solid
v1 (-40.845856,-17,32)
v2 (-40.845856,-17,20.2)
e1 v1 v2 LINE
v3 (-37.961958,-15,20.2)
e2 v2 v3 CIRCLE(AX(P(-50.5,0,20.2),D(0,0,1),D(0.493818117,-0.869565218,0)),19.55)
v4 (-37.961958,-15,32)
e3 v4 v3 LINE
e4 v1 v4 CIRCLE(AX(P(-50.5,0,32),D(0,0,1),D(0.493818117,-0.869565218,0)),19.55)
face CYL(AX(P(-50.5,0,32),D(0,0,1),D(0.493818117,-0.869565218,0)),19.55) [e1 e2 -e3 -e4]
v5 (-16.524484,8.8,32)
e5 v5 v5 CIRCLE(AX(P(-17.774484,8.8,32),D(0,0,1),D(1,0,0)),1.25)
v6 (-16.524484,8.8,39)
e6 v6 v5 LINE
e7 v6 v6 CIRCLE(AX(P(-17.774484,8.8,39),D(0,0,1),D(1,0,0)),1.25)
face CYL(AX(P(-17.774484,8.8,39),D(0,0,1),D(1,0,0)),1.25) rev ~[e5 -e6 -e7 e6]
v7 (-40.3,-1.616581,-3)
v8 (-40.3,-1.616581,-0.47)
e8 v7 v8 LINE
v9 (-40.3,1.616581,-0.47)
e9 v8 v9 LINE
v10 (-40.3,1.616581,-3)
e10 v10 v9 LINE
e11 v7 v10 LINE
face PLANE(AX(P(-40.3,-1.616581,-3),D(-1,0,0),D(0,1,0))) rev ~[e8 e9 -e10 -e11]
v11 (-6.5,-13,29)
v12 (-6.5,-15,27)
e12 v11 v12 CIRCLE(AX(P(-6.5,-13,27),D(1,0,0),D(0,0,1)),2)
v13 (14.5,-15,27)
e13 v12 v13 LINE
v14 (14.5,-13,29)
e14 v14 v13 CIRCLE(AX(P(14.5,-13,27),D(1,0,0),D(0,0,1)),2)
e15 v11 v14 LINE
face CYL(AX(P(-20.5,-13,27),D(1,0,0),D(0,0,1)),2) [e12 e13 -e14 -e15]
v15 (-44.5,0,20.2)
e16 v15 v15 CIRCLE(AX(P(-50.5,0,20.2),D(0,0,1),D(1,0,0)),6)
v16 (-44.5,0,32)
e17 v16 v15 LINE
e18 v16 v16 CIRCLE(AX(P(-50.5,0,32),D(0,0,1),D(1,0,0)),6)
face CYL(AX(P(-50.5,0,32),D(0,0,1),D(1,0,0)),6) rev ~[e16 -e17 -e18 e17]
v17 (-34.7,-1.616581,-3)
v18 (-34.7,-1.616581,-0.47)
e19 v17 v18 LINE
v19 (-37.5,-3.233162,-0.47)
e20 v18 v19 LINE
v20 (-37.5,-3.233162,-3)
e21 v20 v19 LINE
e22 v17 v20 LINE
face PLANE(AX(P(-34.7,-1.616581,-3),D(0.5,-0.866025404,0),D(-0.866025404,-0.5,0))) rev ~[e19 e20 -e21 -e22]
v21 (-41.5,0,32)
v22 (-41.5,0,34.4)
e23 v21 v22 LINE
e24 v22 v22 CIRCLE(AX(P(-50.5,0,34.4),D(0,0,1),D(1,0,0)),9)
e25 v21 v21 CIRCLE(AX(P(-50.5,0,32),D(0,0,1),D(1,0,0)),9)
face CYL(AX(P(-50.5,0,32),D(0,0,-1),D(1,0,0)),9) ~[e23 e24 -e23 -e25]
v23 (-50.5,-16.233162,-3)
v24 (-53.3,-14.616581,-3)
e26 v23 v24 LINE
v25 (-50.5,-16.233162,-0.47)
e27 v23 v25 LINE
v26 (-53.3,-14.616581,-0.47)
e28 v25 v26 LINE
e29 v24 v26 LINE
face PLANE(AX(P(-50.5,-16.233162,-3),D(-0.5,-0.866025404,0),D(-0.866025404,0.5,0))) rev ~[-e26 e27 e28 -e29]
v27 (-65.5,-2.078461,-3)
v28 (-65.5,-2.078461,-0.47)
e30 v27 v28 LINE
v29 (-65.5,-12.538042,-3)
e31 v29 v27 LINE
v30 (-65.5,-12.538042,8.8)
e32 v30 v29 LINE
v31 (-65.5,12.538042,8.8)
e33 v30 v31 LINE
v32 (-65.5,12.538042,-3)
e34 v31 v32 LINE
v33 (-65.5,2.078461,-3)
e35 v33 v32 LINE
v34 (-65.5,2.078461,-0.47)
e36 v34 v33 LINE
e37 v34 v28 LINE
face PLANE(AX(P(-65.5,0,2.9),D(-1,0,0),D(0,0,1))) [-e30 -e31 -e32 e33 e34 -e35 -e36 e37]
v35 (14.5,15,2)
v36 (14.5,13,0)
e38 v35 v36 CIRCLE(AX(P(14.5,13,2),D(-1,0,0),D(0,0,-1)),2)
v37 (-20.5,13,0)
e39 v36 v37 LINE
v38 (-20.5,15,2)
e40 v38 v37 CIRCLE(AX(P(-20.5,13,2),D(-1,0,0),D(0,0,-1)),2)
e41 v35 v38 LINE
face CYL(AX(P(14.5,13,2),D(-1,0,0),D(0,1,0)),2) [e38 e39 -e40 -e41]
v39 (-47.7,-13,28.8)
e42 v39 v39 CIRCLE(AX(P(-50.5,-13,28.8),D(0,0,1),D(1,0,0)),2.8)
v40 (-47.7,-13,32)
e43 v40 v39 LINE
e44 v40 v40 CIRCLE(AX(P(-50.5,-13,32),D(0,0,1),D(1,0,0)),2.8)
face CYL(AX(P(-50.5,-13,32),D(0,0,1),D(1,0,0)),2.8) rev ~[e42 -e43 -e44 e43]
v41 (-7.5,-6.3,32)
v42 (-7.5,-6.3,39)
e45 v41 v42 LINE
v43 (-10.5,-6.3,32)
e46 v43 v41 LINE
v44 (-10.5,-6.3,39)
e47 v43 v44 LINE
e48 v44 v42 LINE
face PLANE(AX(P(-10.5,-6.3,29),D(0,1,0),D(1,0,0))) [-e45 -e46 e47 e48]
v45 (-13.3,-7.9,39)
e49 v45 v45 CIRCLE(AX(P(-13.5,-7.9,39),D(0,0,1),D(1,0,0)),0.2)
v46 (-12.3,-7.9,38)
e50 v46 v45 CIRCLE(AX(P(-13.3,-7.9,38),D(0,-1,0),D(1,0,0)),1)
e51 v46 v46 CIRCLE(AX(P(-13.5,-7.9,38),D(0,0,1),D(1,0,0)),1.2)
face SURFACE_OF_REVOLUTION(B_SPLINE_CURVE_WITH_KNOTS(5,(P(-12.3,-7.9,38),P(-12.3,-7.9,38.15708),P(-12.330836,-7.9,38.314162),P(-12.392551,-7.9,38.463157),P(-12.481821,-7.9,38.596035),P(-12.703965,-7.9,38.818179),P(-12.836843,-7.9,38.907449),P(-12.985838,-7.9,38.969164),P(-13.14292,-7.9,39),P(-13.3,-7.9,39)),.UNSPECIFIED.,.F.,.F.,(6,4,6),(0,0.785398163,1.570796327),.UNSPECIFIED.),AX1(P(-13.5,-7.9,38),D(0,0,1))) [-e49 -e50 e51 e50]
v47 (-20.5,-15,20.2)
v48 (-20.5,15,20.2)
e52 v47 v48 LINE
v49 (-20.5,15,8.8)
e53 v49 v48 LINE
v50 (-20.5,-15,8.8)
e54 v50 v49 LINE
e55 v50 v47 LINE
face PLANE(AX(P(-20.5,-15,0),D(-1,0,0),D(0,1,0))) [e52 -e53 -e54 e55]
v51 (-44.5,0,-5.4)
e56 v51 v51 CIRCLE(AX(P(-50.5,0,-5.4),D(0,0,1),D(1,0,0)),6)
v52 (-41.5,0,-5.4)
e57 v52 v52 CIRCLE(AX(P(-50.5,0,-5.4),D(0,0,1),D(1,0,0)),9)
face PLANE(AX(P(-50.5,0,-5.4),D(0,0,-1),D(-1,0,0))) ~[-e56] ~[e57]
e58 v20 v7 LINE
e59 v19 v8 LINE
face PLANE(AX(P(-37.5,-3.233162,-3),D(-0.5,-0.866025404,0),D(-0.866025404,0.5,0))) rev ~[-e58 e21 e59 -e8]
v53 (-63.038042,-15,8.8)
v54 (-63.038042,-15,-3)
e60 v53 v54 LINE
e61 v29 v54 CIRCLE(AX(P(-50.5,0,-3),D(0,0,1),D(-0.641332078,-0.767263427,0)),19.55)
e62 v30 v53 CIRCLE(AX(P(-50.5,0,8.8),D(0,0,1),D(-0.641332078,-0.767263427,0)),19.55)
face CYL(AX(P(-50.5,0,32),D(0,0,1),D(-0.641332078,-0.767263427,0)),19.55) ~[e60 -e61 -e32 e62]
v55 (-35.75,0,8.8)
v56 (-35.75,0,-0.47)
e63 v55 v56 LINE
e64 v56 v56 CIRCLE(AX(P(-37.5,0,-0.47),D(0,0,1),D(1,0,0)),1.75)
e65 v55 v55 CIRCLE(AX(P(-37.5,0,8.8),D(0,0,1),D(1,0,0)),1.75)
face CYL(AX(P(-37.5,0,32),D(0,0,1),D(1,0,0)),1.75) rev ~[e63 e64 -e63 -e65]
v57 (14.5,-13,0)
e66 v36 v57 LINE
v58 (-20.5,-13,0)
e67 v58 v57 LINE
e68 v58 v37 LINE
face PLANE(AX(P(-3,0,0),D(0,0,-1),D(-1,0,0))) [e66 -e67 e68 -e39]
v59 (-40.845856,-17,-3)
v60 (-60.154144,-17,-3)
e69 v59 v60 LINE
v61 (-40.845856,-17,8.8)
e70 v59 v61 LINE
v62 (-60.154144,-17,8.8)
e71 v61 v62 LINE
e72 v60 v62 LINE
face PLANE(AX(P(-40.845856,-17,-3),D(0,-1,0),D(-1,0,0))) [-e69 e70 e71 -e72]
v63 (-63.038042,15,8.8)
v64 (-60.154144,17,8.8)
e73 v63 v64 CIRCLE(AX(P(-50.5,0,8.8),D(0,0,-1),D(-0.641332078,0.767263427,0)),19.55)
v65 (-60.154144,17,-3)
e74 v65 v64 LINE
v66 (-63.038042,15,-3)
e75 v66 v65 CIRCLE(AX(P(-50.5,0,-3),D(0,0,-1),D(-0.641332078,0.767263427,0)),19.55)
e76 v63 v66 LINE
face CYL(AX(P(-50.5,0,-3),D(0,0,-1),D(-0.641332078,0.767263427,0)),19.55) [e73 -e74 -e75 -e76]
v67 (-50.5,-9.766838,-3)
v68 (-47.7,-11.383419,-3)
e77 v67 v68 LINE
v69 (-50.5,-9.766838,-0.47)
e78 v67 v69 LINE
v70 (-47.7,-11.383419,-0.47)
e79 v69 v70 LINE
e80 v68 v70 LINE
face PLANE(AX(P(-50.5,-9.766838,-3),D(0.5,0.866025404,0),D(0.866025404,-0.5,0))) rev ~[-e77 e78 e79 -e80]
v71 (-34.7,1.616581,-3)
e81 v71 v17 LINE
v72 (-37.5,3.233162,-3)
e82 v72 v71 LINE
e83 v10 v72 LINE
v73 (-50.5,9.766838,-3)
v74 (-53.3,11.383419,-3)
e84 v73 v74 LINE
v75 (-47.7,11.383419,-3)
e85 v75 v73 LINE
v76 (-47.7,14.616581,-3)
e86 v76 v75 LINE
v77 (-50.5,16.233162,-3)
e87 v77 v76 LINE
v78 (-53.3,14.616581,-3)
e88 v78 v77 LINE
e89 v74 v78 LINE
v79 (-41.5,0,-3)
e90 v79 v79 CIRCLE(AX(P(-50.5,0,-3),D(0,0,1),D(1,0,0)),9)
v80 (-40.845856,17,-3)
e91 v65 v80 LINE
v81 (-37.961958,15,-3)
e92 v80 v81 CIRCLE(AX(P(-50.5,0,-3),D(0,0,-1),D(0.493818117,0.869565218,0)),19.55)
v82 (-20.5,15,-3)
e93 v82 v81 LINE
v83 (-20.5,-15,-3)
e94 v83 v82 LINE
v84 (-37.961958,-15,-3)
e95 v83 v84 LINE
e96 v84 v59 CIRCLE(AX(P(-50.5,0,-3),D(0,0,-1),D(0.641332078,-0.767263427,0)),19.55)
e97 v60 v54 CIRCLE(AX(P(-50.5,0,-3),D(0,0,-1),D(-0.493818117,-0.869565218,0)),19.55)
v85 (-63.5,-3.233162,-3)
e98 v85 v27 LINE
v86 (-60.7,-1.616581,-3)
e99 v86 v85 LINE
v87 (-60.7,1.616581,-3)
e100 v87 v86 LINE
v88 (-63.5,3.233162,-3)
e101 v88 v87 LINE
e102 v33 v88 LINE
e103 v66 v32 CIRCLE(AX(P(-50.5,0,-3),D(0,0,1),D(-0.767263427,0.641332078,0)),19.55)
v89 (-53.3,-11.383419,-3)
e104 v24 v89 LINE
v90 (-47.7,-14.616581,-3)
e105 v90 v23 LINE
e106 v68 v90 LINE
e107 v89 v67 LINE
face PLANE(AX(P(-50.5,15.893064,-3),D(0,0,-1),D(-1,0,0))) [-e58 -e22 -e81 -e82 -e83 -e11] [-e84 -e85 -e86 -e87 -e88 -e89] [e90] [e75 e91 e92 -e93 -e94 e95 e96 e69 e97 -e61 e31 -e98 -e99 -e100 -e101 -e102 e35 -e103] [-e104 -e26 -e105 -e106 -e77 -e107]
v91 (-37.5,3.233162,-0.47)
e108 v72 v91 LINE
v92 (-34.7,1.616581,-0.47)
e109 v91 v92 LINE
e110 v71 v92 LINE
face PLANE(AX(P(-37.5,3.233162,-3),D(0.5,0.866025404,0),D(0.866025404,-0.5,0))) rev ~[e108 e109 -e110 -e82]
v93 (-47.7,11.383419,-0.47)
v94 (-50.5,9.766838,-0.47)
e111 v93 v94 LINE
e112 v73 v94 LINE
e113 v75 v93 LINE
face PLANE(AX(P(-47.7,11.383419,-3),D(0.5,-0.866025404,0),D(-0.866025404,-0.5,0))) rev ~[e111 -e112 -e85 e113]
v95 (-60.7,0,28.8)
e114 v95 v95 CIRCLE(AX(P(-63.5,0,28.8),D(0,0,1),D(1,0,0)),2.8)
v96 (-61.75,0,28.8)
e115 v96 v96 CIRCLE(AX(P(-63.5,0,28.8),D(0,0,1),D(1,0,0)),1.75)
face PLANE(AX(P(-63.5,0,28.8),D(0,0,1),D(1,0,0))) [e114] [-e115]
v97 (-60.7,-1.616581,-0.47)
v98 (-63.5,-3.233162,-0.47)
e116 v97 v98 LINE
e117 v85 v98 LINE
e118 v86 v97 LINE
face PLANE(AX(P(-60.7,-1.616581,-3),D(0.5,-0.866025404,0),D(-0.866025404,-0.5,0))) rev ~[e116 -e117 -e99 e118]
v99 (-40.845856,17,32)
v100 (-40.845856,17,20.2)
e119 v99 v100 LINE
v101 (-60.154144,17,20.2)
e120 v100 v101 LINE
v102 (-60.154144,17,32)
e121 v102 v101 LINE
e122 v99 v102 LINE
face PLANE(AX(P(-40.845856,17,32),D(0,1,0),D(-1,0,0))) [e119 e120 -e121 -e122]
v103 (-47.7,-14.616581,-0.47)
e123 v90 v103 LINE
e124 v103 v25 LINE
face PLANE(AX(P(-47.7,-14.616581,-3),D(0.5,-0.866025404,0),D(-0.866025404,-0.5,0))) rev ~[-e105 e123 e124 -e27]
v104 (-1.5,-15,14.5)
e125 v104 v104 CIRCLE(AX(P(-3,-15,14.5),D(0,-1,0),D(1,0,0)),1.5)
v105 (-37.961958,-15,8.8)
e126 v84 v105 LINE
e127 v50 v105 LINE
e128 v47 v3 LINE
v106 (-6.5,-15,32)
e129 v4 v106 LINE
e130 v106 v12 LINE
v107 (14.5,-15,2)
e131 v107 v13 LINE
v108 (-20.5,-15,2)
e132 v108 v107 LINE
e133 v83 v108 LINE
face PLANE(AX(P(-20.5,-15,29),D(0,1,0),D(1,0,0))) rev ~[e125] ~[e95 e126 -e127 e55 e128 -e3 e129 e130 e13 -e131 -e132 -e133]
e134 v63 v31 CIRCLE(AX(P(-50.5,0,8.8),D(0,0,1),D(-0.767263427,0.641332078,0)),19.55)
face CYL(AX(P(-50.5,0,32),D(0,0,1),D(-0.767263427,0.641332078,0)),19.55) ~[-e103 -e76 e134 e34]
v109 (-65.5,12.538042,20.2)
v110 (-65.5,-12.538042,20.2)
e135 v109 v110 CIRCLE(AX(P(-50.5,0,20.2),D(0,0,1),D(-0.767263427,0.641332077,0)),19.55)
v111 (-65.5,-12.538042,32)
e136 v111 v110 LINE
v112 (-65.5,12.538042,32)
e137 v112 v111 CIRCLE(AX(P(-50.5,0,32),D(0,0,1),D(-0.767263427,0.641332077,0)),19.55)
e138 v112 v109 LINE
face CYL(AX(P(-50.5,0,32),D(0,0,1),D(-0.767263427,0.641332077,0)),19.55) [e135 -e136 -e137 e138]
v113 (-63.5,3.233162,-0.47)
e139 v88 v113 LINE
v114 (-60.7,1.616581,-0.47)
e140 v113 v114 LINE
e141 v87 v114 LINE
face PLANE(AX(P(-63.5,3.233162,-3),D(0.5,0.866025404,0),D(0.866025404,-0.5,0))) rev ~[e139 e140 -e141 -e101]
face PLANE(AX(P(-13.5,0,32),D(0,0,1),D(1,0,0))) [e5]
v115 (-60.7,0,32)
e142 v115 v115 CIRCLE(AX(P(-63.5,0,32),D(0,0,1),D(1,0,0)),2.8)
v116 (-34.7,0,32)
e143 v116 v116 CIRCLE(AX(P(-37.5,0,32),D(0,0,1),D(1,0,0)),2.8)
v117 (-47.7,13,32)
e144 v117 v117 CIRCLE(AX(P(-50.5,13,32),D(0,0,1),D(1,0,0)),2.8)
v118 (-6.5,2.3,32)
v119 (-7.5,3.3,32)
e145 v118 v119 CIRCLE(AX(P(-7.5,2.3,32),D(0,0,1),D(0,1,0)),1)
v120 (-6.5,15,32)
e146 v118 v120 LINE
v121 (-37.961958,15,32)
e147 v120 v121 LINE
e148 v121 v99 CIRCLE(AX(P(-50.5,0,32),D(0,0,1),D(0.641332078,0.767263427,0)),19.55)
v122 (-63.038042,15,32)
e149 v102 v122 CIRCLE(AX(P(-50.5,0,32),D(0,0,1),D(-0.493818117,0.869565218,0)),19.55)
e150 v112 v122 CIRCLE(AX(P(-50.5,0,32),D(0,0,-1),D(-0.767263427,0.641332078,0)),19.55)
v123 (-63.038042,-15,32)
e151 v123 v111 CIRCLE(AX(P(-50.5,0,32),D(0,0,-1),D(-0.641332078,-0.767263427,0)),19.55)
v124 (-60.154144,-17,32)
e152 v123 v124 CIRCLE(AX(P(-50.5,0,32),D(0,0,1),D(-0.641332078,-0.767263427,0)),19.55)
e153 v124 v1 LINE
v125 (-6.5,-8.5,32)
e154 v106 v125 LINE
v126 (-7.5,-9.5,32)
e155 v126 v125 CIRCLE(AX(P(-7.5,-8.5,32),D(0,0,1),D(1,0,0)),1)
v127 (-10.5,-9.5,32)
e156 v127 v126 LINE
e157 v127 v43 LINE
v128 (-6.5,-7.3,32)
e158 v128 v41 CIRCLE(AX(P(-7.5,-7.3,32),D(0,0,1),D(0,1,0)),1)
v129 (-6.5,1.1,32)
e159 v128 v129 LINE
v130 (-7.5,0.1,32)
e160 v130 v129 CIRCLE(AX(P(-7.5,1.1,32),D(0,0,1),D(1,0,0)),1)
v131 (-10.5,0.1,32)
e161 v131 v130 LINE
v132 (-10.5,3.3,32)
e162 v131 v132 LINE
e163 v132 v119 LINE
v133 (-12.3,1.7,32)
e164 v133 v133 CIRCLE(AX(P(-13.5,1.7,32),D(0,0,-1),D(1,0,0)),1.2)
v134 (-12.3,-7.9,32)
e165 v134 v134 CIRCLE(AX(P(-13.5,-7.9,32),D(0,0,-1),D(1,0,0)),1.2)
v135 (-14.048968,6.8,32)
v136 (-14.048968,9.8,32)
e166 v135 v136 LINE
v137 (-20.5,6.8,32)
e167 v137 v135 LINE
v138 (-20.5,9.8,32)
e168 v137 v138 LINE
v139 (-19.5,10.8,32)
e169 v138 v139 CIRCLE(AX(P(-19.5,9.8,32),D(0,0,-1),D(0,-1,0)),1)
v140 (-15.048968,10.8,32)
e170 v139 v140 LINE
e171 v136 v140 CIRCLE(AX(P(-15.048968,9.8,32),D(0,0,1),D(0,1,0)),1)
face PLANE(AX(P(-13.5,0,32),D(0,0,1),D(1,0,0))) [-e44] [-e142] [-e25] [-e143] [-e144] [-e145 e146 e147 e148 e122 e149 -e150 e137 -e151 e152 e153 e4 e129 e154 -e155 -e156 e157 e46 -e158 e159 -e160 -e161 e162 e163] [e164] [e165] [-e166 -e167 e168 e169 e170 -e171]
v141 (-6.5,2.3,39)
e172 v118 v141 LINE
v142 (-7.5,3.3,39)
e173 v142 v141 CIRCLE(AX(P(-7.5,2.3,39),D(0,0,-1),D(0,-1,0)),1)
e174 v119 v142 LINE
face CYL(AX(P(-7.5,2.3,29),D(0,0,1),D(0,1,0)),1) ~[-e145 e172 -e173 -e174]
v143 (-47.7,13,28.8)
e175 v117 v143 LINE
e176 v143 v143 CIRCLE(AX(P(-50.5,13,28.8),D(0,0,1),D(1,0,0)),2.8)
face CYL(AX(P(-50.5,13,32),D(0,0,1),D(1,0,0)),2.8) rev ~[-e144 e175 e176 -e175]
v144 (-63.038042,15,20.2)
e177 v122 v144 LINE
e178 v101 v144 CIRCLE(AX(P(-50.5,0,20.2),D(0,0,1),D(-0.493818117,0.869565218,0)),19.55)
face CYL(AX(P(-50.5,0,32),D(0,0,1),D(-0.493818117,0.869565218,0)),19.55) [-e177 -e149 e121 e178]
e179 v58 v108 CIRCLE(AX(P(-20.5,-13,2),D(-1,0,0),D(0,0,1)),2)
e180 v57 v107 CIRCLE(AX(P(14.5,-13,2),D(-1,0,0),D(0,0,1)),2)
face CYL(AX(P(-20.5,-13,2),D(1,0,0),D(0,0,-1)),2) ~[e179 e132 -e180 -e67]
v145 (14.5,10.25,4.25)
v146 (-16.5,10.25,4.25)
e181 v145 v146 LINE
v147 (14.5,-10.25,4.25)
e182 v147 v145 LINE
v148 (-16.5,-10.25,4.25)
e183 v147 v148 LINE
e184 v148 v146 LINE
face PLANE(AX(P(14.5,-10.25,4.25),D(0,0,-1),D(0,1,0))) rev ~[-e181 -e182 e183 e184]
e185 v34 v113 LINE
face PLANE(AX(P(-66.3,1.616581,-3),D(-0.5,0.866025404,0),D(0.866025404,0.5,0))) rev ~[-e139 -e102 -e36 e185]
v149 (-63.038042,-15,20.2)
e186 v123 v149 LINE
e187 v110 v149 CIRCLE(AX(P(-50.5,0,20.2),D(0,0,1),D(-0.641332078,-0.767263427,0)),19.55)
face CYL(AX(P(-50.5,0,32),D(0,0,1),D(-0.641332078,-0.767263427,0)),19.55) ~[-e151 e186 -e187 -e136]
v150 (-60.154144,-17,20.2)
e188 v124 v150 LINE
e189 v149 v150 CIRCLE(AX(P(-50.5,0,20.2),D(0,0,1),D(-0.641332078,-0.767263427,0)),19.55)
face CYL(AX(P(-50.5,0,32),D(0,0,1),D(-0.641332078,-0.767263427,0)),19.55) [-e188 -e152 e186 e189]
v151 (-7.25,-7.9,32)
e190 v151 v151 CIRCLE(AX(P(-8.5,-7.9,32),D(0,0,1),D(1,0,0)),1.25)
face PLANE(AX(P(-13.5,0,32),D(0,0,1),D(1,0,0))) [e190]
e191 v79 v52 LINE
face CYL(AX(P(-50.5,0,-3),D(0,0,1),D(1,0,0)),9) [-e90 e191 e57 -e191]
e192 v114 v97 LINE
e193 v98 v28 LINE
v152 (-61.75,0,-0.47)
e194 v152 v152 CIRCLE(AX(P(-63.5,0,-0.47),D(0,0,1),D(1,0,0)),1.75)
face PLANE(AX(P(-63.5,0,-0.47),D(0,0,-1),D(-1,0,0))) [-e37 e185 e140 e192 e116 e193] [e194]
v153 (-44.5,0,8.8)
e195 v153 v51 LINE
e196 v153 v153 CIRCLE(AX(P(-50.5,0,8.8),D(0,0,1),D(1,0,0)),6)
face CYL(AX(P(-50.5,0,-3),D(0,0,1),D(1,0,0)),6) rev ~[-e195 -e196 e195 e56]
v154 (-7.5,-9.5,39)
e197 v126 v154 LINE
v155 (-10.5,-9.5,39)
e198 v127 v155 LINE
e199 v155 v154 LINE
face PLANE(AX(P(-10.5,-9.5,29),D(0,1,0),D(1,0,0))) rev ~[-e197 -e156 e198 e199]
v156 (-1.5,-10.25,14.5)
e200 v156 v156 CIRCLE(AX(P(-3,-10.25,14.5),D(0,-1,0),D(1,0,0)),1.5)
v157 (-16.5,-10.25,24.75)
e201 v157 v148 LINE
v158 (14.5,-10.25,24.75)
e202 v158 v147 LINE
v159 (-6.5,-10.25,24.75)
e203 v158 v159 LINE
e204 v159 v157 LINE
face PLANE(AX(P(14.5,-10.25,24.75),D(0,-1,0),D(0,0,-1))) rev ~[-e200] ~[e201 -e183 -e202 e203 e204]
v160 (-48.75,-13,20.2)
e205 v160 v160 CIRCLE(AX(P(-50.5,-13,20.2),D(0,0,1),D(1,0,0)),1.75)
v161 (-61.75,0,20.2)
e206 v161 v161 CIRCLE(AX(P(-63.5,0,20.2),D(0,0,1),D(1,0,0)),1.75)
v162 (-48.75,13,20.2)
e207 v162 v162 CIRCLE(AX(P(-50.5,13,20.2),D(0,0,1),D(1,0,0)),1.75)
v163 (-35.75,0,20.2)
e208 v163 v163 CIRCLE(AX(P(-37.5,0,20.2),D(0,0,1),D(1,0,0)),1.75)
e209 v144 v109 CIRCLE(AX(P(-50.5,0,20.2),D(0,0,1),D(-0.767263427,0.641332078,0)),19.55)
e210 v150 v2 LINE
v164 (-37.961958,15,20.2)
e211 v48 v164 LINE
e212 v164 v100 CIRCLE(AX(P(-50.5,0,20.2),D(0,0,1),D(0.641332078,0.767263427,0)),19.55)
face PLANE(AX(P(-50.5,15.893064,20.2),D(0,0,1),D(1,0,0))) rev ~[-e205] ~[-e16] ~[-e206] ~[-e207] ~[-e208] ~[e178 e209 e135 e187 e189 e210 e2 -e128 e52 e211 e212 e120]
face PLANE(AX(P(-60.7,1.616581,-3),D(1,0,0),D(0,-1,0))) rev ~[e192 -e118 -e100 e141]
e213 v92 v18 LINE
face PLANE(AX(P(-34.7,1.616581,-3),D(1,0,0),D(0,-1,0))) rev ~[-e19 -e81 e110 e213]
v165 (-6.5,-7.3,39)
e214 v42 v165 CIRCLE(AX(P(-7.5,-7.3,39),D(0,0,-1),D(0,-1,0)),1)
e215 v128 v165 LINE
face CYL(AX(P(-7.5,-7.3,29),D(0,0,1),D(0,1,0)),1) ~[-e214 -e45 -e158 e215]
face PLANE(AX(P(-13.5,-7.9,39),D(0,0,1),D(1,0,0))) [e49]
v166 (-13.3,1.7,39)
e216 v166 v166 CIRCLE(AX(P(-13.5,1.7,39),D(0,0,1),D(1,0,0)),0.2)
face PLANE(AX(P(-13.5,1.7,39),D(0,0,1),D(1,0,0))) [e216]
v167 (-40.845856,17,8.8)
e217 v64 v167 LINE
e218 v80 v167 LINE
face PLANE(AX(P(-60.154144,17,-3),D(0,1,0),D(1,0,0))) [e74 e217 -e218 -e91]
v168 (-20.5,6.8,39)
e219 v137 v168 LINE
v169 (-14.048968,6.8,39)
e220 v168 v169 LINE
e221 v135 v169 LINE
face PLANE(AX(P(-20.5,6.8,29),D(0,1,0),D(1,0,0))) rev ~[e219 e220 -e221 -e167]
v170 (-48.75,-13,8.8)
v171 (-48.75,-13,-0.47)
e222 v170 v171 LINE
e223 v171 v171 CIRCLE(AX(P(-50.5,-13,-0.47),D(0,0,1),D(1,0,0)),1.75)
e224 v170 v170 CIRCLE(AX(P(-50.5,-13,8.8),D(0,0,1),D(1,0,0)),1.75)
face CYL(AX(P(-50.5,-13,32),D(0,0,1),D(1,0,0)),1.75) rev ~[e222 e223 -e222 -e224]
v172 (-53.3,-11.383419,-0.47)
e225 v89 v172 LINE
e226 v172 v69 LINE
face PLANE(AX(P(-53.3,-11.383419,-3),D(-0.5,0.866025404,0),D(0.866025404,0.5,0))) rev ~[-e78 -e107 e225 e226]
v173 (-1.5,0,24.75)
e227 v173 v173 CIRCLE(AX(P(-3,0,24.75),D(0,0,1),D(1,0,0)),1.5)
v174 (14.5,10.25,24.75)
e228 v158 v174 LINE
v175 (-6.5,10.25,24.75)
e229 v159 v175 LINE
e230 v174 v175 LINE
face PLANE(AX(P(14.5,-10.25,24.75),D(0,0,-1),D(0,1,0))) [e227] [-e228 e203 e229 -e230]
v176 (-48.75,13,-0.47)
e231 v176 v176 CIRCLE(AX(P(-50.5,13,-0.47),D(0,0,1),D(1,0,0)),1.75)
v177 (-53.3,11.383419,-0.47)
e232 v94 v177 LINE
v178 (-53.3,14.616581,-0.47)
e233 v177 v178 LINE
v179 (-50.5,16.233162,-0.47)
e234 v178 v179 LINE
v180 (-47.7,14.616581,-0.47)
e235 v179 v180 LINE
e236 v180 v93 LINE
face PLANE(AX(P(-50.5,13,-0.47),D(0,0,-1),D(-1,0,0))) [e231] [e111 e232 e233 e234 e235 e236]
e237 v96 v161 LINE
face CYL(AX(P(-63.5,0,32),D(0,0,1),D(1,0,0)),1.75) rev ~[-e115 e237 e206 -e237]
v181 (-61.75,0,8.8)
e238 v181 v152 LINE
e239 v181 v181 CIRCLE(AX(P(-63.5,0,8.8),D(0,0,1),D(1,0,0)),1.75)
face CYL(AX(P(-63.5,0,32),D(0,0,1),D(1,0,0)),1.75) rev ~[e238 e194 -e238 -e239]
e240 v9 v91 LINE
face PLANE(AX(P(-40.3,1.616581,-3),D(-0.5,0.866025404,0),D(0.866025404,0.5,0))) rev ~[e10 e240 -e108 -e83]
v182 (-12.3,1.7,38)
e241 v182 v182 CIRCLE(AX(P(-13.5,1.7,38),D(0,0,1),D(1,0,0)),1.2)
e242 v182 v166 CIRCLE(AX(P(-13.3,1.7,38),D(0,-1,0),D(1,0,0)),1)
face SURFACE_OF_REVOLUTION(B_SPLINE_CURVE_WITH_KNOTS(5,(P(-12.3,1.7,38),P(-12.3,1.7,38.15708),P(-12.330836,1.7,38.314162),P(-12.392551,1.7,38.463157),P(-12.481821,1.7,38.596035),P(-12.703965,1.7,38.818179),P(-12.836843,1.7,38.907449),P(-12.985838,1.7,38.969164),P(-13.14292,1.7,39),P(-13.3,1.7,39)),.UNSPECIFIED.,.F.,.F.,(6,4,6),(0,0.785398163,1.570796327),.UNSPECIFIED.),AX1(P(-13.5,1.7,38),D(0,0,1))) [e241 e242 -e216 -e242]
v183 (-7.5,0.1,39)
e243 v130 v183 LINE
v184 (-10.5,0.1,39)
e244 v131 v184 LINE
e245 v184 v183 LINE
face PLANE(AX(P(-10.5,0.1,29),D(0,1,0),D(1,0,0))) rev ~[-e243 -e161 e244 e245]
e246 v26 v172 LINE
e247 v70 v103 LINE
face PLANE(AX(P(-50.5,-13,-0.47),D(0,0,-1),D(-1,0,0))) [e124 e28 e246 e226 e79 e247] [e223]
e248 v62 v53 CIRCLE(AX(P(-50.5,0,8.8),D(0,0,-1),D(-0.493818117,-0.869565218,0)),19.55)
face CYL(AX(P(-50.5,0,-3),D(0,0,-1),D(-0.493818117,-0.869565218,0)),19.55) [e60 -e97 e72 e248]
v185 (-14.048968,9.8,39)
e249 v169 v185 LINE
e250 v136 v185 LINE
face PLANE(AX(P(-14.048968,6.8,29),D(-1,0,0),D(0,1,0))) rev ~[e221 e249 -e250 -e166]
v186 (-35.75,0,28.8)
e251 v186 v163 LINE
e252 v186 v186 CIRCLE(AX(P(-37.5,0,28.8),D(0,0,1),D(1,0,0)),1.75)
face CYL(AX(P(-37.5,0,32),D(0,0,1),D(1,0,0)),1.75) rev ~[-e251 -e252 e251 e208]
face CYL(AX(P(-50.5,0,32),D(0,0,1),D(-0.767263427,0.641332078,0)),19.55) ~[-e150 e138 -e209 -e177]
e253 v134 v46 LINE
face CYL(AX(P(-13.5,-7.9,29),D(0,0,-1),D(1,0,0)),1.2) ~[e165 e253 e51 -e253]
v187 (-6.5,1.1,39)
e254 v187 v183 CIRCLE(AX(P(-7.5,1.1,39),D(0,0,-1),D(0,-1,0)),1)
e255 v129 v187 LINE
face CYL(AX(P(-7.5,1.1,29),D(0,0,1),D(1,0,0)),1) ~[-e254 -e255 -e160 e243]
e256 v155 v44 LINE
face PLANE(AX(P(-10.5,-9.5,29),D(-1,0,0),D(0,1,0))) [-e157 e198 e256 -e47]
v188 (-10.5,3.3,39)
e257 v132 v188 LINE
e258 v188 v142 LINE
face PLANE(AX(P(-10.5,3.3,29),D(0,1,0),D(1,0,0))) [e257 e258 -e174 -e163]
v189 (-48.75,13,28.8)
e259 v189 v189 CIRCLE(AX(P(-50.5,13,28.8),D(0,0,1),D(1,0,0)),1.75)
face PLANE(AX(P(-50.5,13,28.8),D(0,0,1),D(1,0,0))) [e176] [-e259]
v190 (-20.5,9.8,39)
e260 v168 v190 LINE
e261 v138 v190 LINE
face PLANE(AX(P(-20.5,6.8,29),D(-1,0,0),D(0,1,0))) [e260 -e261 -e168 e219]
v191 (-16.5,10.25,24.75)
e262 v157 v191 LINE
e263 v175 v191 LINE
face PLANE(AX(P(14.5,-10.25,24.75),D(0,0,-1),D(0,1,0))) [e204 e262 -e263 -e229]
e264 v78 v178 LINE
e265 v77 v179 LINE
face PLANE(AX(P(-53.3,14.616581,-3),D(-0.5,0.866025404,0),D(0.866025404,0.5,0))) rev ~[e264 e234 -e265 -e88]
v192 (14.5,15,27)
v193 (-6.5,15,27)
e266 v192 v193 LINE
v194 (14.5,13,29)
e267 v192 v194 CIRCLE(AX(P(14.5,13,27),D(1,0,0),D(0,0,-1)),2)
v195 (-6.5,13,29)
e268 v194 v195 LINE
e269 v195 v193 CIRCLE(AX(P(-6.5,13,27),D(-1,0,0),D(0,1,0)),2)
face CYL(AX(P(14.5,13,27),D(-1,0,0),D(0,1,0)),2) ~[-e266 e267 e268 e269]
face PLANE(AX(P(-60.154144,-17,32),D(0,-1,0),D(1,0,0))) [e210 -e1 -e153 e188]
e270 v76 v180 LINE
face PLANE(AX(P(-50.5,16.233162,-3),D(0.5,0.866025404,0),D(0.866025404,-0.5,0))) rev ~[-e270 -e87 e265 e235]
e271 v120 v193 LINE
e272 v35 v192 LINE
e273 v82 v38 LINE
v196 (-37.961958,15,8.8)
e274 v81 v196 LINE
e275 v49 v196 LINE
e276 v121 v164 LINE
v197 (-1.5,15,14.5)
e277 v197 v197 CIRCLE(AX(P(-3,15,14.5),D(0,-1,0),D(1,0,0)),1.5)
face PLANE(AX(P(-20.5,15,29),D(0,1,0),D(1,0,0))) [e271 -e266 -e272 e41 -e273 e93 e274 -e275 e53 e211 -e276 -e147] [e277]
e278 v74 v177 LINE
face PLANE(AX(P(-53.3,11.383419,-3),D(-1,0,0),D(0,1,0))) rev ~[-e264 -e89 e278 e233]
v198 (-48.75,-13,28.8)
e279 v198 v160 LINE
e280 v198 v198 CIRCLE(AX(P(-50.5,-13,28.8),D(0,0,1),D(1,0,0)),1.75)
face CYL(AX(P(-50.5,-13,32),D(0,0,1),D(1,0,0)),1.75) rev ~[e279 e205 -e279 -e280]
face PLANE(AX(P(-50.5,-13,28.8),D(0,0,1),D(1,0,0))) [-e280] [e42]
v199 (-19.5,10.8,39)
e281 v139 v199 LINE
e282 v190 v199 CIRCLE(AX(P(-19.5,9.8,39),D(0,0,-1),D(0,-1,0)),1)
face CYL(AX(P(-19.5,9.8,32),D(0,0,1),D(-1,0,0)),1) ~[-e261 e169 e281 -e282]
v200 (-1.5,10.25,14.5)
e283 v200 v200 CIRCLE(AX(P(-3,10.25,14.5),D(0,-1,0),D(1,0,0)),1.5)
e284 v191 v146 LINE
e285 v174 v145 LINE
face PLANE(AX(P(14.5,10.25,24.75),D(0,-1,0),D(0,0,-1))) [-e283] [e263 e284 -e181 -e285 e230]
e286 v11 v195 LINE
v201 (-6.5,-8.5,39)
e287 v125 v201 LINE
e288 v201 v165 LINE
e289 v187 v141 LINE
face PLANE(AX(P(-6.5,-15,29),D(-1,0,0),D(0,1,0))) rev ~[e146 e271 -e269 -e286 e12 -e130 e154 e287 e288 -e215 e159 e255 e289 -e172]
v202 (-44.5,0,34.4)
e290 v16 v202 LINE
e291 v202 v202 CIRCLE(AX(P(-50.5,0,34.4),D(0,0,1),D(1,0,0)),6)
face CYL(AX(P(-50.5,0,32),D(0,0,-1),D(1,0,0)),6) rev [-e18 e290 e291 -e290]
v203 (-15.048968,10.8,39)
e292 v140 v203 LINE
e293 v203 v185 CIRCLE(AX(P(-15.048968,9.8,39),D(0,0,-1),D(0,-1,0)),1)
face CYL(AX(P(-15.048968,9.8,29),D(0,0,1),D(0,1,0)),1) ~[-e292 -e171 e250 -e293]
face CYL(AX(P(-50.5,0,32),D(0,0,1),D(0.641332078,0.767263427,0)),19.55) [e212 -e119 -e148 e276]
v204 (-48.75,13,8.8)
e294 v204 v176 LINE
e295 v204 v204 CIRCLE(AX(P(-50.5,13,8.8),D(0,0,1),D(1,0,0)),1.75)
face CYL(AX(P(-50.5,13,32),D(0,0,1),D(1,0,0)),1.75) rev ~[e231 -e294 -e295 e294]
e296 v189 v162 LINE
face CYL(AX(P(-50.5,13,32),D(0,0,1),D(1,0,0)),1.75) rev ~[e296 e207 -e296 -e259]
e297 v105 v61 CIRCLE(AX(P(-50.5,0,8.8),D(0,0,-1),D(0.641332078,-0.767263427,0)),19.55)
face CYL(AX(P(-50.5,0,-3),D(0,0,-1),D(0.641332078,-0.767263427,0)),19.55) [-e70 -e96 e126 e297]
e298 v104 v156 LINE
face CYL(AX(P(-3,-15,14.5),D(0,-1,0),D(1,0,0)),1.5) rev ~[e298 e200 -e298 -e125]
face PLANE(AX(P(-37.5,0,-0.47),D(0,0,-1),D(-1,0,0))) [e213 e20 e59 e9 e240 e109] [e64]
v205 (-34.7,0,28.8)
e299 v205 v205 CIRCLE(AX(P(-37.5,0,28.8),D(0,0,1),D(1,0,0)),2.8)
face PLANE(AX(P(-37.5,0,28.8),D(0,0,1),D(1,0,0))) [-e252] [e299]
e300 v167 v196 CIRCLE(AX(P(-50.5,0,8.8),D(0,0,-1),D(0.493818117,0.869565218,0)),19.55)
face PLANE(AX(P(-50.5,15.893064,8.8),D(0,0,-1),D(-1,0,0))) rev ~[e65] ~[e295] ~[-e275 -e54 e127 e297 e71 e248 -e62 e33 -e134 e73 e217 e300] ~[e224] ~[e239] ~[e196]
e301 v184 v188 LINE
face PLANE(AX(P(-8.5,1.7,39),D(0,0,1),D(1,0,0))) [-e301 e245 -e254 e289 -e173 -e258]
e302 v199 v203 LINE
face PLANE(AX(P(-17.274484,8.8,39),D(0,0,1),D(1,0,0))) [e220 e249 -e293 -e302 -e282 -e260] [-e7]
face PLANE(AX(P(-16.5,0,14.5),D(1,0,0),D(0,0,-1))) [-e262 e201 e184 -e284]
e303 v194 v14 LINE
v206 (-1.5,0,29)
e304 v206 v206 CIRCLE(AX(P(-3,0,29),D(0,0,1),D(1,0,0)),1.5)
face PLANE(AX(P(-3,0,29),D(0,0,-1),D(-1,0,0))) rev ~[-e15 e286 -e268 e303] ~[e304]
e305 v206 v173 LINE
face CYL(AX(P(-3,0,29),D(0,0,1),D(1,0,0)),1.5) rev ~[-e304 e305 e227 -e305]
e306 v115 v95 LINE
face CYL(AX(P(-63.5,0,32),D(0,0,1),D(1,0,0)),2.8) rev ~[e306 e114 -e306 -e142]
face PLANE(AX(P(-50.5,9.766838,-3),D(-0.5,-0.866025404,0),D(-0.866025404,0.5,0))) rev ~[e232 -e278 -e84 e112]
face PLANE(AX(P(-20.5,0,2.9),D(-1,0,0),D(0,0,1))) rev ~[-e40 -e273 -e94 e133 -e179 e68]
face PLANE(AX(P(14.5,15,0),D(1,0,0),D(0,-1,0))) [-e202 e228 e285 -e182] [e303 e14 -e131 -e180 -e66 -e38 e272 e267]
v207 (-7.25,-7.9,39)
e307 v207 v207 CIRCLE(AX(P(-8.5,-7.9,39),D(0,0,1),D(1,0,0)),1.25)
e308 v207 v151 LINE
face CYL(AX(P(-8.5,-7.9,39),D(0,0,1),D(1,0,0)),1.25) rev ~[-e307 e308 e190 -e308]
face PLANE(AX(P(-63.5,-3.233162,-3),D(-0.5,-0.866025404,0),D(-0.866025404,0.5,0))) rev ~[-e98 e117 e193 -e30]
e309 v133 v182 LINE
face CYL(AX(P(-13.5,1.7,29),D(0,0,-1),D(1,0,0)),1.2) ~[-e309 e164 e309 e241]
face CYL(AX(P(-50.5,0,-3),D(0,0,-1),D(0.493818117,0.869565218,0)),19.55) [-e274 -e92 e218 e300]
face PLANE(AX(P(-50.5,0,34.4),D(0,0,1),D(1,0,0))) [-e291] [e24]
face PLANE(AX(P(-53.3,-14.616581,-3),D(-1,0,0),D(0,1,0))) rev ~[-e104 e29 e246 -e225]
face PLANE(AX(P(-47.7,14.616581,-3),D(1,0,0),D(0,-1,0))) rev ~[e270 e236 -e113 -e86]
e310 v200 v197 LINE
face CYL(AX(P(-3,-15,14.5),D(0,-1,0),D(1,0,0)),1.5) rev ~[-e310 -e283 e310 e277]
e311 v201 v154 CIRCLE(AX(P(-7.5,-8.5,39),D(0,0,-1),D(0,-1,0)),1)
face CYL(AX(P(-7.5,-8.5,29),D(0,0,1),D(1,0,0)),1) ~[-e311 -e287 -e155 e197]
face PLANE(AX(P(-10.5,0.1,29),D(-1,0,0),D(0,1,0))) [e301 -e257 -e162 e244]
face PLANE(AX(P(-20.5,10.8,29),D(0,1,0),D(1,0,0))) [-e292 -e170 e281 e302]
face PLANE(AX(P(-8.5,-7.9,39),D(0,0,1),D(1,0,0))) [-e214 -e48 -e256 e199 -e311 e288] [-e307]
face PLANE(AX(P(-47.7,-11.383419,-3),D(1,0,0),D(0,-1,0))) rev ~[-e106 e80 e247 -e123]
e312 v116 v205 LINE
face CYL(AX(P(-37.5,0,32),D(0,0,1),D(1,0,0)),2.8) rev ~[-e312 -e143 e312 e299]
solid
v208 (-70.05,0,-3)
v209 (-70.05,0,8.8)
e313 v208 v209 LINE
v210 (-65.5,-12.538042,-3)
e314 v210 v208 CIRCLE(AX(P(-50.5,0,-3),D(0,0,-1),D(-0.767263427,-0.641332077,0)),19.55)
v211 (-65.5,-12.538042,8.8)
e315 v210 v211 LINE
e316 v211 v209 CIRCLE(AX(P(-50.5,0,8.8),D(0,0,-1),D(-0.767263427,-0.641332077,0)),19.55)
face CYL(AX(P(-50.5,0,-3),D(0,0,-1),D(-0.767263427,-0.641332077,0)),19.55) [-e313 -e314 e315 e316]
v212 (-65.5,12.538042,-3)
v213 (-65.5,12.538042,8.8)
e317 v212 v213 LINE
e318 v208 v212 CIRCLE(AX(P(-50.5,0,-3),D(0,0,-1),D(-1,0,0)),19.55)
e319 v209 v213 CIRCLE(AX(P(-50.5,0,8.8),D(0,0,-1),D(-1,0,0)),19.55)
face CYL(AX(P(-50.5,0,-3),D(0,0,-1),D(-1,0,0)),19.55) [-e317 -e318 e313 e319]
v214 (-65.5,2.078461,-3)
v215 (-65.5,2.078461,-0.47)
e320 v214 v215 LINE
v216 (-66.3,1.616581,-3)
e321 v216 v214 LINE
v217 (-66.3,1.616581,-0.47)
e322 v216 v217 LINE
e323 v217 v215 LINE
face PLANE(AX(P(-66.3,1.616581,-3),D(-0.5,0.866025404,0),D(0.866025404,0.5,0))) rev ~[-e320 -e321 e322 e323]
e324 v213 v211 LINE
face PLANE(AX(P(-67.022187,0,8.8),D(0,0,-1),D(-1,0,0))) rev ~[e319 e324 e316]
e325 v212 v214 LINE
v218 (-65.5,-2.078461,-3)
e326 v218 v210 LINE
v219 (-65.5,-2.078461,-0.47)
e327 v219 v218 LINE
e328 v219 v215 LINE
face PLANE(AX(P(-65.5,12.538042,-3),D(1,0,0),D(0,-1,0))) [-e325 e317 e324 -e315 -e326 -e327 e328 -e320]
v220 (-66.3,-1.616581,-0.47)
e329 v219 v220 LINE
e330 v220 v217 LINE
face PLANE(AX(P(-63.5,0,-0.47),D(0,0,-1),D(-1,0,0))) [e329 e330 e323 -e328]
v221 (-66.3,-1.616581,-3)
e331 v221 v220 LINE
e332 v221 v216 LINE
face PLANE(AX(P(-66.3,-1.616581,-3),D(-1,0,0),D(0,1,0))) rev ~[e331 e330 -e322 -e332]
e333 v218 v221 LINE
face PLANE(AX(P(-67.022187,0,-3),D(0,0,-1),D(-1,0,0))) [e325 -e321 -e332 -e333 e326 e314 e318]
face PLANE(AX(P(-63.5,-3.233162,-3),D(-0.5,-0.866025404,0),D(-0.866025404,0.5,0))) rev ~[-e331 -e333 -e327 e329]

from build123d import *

# Parameters (mm, degrees)
ESTRUSIONE_ESTRUSIONE4_DEPTH       = 29
SCHIZZO12_W                        = 20.5
SCHIZZO12_H                        = 20.5
TAGLIO_ESTRUSIONE5_DEPTH           = 31
SCHIZZO13_R                        = 1.5
TAGLIO_ESTRUSIONE6_DEPTH           = 31
SCHIZZO14_R                        = 1.5
TAGLIO_ESTRUSIONE7_DEPTH           = 20
RACCORDO6_R                        = 2
SCHIZZO15_W                        = 11.8
SCHIZZO15_H                        = 30
ESTRUSIONE_ESTRUSIONE5_DEPTH       = 45
SCHIZZO16_R                        = 6
TAGLIO_ESTRUSIONE8_DEPTH           = 1
TAGLIO_ESTRUSIONE8_DEPTH_BACK      = 36
ESTRUSIONE_ESTRUSIONE7_DEPTH       = 11.8
ESTRUSIONE_ESTRUSIONE8_DEPTH       = 11.8
TAGLIO_ESTRUSIONE10_DEPTH          = 1
TAGLIO_ESTRUSIONE10_DEPTH_BACK     = 36
ESTRUSIONE_ESTRUSIONE9_DEPTH       = 11.8
ESTRUSIONE_ESTRUSIONE10_DEPTH      = 11.8
SCHIZZO23_R                        = 1.75
TAGLIO_ESTRUSIONE11_DEPTH          = 1
TAGLIO_ESTRUSIONE11_DEPTH_BACK     = 36
SCHIZZO24_R                        = 2.8
TAGLIO_ESTRUSIONE12_DEPTH          = 3.2
TAGLIO_ESTRUSIONE13_DEPTH          = 2.53
SCHIZZO31_R                        = 9
SCHIZZO31_R_2                      = 6
ESTRUSIONE_ESTRUSIONE16_DEPTH      = 2.4
SCHIZZO17_R                        = 1.2
SCHIZZO17_W                        = 4
SCHIZZO17_H                        = 3.2
SCHIZZO17_W_2                      = 6.451032108
SCHIZZO17_H_2                      = 4
ESTRUSIONE_ESTRUSIONE6_DEPTH       = 10
RACCORDO9_R                        = 1
SCHIZZO19_R                        = 1.25
TAGLIO_ESTRUSIONE9_DEPTH           = 8
SCHIZZO33_W                        = 14
SCHIZZO33_H                        = 30
ESTRUSIONE_ESTRUSIONE17_DEPTH      = 3
ESTRUSIONE_ESTRUSIONE17_DEPTH_BACK = 4.25


with BuildPart() as part:
    # Schizzo11 → Estrusione-Estrusione4 (new body)
    with BuildSketch(Plane.XY):
        Polygon((-14.5, 15), (14.5, 15), (14.5, -15), (-14.5, -15), (-20.5, -15), (-20.5, 15), align=None)
    extrude(amount=ESTRUSIONE_ESTRUSIONE4_DEPTH)

    # Schizzo12 → Taglio-Estrusione5 (cut)
    with BuildSketch(Plane(origin=(14.5, 0, 0), x_dir=(0, 0, -1), z_dir=(1, 0, 0))):
        with Locations((-14.5, 0)):
            Rectangle(SCHIZZO12_W, SCHIZZO12_H)
    extrude(amount=-TAGLIO_ESTRUSIONE5_DEPTH, mode=Mode.SUBTRACT)

    # Schizzo13 → Taglio-Estrusione6 (cut, through all)
    with BuildSketch(Plane.XZ.offset(15)):
        with Locations((-3, 14.5)):
            Circle(SCHIZZO13_R)
    extrude(amount=-TAGLIO_ESTRUSIONE6_DEPTH, mode=Mode.SUBTRACT)

    # Schizzo14 → Taglio-Estrusione7 (cut)
    with BuildSketch(Plane.XY.offset(29)):
        with Locations((-3, 0)):
            Circle(SCHIZZO14_R)
    extrude(amount=-TAGLIO_ESTRUSIONE7_DEPTH, mode=Mode.SUBTRACT)

    # Raccordo6
    raccordo6_edges = [part.edges().sort_by_distance(p)[0] for p in [
        (-3, 15, 29),
        (-3, -15, 29),
        (-3, -15, 0),
        (-3, 15, 0),
    ]]
    fillet(raccordo6_edges, radius=RACCORDO6_R)

    # Schizzo15 → Estrusione-Estrusione5 (add)
    with BuildSketch(Plane.ZY.offset(20.5)):
        with Locations((26.1, 0)):
            Rectangle(SCHIZZO15_W, SCHIZZO15_H)
        with Locations((2.9, 0)):
            Rectangle(SCHIZZO15_W, SCHIZZO15_H)
    extrude(amount=ESTRUSIONE_ESTRUSIONE5_DEPTH)

    # Schizzo16 → Taglio-Estrusione8 (cut, two sides)
    with BuildSketch(Plane.XY.offset(32)) as taglio_estrusione8_sk:
        with Locations((-50.5, 0)):
            Circle(SCHIZZO16_R)
    extrude(amount=TAGLIO_ESTRUSIONE8_DEPTH, mode=Mode.SUBTRACT)
    extrude(taglio_estrusione8_sk.sketch, amount=-TAGLIO_ESTRUSIONE8_DEPTH_BACK, mode=Mode.SUBTRACT)

    # Schizzo21 → Estrusione-Estrusione8 (add)
    with BuildSketch(Plane.XY.offset(32)):
        with BuildLine():
            Line((-65.5, -12.538042112), (-65.5, 12.538042112))
            ThreePointArc((-65.5, 12.538042112), (-70.05, 0), (-65.5, -12.538042112))
        make_face()
    extrude(amount=-ESTRUSIONE_ESTRUSIONE8_DEPTH)

    # Schizzo22 → Taglio-Estrusione10 (cut, two sides)
    with BuildSketch(Plane.XY.offset(32)) as taglio_estrusione10_sk:
        with BuildLine():
            ThreePointArc((-63.038042112, -15), (-64.323937572, -13.823937572), (-65.5, -12.538042112))
            Line((-65.5, -12.538042112), (-65.5, -15))
            Line((-65.5, -15), (-63.038042112, -15))
        make_face()
        with BuildLine():
            Line((-63.038042112, 15), (-65.5, 15))
            Line((-65.5, 15), (-65.5, 12.538042112))
            ThreePointArc((-65.5, 12.538042112), (-64.323937572, 13.823937572), (-63.038042112, 15))
        make_face()
    extrude(amount=TAGLIO_ESTRUSIONE10_DEPTH, mode=Mode.SUBTRACT)
    extrude(taglio_estrusione10_sk.sketch, amount=-TAGLIO_ESTRUSIONE10_DEPTH_BACK, mode=Mode.SUBTRACT)

    # Schizzo27 → Estrusione-Estrusione9 (add)
    with BuildSketch(Plane.XY.offset(32)):
        with BuildLine():
            ThreePointArc((-37.961957888, 15), (-39.358937071, 16.064844127), (-40.845855812, 17))
            Line((-40.845855812, 17), (-60.154144188, 17))
            ThreePointArc((-60.154144188, 17), (-61.641062929, 16.064844127), (-63.038042112, 15))
            Line((-63.038042112, 15), (-37.961957888, 15))
        make_face()
        with BuildLine():
            ThreePointArc((-40.845855812, -17), (-39.358937071, -16.064844127), (-37.961957888, -15))
            Line((-37.961957888, -15), (-63.038042112, -15))
            ThreePointArc((-63.038042112, -15), (-61.641062929, -16.064844127), (-60.154144188, -17))
            Line((-60.154144188, -17), (-40.845855812, -17))
        make_face()
    extrude(amount=-ESTRUSIONE_ESTRUSIONE9_DEPTH)

    # Schizzo29 → Estrusione-Estrusione10 (add)
    with BuildSketch(Plane(origin=(0, 0, -3), x_dir=(-1, 0, 0), z_dir=(0, 0, -1))):
        with BuildLine():
            Line((60.154144188, 17), (40.845855812, 17))
            ThreePointArc((40.845855812, 17), (39.358937071, 16.064844127), (37.961957888, 15))
            Line((37.961957888, 15), (63.038042112, 15))
            ThreePointArc((63.038042112, 15), (61.641062929, 16.064844127), (60.154144188, 17))
        make_face()
        with BuildLine():
            Line((63.038042112, -15), (37.961957888, -15))
            ThreePointArc((37.961957888, -15), (39.358937071, -16.064844127), (40.845855812, -17))
            Line((40.845855812, -17), (60.154144188, -17))
            ThreePointArc((60.154144188, -17), (61.641062929, -16.064844127), (63.038042112, -15))
        make_face()
    extrude(amount=-ESTRUSIONE_ESTRUSIONE10_DEPTH)

    # Schizzo23 → Taglio-Estrusione11 (cut, two sides)
    with BuildSketch(Plane.XY.offset(32)) as taglio_estrusione11_sk:
        with Locations((-63.5, 0)):
            Circle(SCHIZZO23_R)
        with Locations((-50.5, 13)):
            Circle(SCHIZZO23_R)
        with Locations((-50.5, -13)):
            Circle(SCHIZZO23_R)
        with Locations((-37.5, 0)):
            Circle(SCHIZZO23_R)
    extrude(amount=TAGLIO_ESTRUSIONE11_DEPTH, mode=Mode.SUBTRACT)
    extrude(taglio_estrusione11_sk.sketch, amount=-TAGLIO_ESTRUSIONE11_DEPTH_BACK, mode=Mode.SUBTRACT)

    # Schizzo24 → Taglio-Estrusione12 (cut)
    with BuildSketch(Plane.XY.offset(32)):
        with Locations((-63.5, 0)):
            Circle(SCHIZZO24_R)
        with Locations((-50.5, 13)):
            Circle(SCHIZZO24_R)
        with Locations((-37.5, 0)):
            Circle(SCHIZZO24_R)
        with Locations((-50.5, -13)):
            Circle(SCHIZZO24_R)
    extrude(amount=-TAGLIO_ESTRUSIONE12_DEPTH, mode=Mode.SUBTRACT)


with BuildPart() as body_2:
    # Schizzo20 → Estrusione-Estrusione7 (new body)
    with BuildSketch(Plane(origin=(0, 0, -3), x_dir=(-1, 0, 0), z_dir=(0, 0, -1))):
        with BuildLine():
            ThreePointArc((70.05, 0), (68.877329784, 6.669051657), (65.5, 12.538042112))
            Line((65.5, 12.538042112), (65.5, -12.538042112))
            ThreePointArc((65.5, -12.538042112), (68.877329784, -6.669051657), (70.05, 0))
        make_face()
    extrude(amount=-ESTRUSIONE_ESTRUSIONE7_DEPTH)


with BuildPart() as taglio_estrusione13_tool:
    # Schizzo25 → Taglio-Estrusione13 (new body)
    with BuildSketch(Plane(origin=(0, 0, -3), x_dir=(-1, 0, 0), z_dir=(0, 0, -1))):
        Polygon((63.5, 3.233161507), (60.7, 1.616580754), (60.7, -1.616580754), (63.5, -3.233161507), (66.3, -1.616580754), (66.3, 1.616580754), align=None)
        Polygon((50.5, 9.766838493), (53.3, 11.383419246), (53.3, 14.616580754), (50.5, 16.233161507), (47.7, 14.616580754), (47.7, 11.383419246), align=None)
        Polygon((37.5, -3.233161507), (40.3, -1.616580754), (40.3, 1.616580754), (37.5, 3.233161507), (34.7, 1.616580754), (34.7, -1.616580754), align=None)
        Polygon((50.5, -9.766838493), (47.7, -11.383419246), (47.7, -14.616580754), (50.5, -16.233161507), (53.3, -14.616580754), (53.3, -11.383419246), align=None)
    extrude(amount=-TAGLIO_ESTRUSIONE13_DEPTH)


with BuildPart() as part_1:
    add(part.part)

    # Taglio-Estrusione13: cut by taglio_estrusione13_tool
    add(taglio_estrusione13_tool.part, mode=Mode.SUBTRACT)

    # Schizzo31 → Estrusione-Estrusione16 (add)
    with BuildSketch(Plane.XY.offset(32)):
        with Locations((-50.5, 0)):
            Circle(SCHIZZO31_R)
        with Locations((-50.5, 0)):
            Circle(SCHIZZO31_R_2, mode=Mode.SUBTRACT)
    estrusione_estrusione16 = extrude(amount=ESTRUSIONE_ESTRUSIONE16_DEPTH)

    # Specchia3: Estrusione-Estrusione16 across plane
    add(estrusione_estrusione16.mirror(Plane.XY.offset(14.5)))

    # Schizzo17 → Estrusione-Estrusione6 (add)
    with BuildSketch(Plane.XY.offset(29)):
        with Locations((-13.5, 1.7)):
            Circle(SCHIZZO17_R)
        with Locations((-13.5, -7.9)):
            Circle(SCHIZZO17_R)
        with Locations((-8.5, -7.9)):
            Rectangle(SCHIZZO17_W, SCHIZZO17_H)
        with Locations((-8.5, 1.7)):
            Rectangle(SCHIZZO17_W, SCHIZZO17_H)
        with Locations((-17.274483946, 8.8)):
            Rectangle(SCHIZZO17_W_2, SCHIZZO17_H_2)
    extrude(amount=ESTRUSIONE_ESTRUSIONE6_DEPTH)

    # Raccordo9
    raccordo9_edges = [part_1.edges().sort_by_distance(p)[0] for p in [
        (-14.7, 1.7, 39),
        (-14.7, -7.9, 39),
        (-6.5, 0.1, 34),
        (-6.5, 3.3, 34),
        (-6.5, -9.5, 34),
        (-6.5, -6.3, 34),
        (-20.5, 10.8, 35.5),
        (-14.048967892, 10.8, 34),
    ]]
    fillet(raccordo9_edges, radius=RACCORDO9_R)

    # Schizzo19 → Taglio-Estrusione9 (cut)
    with BuildSketch(Plane.XY.offset(39)):
        with Locations((-8.5, -7.9)):
            Circle(SCHIZZO19_R)
        with Locations((-17.774483946, 8.8)):
            Circle(SCHIZZO19_R)
    extrude(amount=-TAGLIO_ESTRUSIONE9_DEPTH, mode=Mode.SUBTRACT)

    # Schizzo33 → Estrusione-Estrusione17 (add, two sides)
    with BuildSketch(Plane.XY.offset(29)) as estrusione_estrusione17_sk:
        with Locations((-13.5, 0)):
            Rectangle(SCHIZZO33_W, SCHIZZO33_H)
    extrude(amount=ESTRUSIONE_ESTRUSIONE17_DEPTH)
    extrude(estrusione_estrusione17_sk.sketch, amount=-ESTRUSIONE_ESTRUSIONE17_DEPTH_BACK)


with BuildPart() as body_2_1:
    add(body_2.part)

    # Taglio-Estrusione13: cut by taglio_estrusione13_tool
    add(taglio_estrusione13_tool.part, mode=Mode.SUBTRACT)


solid = Compound([part_1.part, body_2_1.part])
